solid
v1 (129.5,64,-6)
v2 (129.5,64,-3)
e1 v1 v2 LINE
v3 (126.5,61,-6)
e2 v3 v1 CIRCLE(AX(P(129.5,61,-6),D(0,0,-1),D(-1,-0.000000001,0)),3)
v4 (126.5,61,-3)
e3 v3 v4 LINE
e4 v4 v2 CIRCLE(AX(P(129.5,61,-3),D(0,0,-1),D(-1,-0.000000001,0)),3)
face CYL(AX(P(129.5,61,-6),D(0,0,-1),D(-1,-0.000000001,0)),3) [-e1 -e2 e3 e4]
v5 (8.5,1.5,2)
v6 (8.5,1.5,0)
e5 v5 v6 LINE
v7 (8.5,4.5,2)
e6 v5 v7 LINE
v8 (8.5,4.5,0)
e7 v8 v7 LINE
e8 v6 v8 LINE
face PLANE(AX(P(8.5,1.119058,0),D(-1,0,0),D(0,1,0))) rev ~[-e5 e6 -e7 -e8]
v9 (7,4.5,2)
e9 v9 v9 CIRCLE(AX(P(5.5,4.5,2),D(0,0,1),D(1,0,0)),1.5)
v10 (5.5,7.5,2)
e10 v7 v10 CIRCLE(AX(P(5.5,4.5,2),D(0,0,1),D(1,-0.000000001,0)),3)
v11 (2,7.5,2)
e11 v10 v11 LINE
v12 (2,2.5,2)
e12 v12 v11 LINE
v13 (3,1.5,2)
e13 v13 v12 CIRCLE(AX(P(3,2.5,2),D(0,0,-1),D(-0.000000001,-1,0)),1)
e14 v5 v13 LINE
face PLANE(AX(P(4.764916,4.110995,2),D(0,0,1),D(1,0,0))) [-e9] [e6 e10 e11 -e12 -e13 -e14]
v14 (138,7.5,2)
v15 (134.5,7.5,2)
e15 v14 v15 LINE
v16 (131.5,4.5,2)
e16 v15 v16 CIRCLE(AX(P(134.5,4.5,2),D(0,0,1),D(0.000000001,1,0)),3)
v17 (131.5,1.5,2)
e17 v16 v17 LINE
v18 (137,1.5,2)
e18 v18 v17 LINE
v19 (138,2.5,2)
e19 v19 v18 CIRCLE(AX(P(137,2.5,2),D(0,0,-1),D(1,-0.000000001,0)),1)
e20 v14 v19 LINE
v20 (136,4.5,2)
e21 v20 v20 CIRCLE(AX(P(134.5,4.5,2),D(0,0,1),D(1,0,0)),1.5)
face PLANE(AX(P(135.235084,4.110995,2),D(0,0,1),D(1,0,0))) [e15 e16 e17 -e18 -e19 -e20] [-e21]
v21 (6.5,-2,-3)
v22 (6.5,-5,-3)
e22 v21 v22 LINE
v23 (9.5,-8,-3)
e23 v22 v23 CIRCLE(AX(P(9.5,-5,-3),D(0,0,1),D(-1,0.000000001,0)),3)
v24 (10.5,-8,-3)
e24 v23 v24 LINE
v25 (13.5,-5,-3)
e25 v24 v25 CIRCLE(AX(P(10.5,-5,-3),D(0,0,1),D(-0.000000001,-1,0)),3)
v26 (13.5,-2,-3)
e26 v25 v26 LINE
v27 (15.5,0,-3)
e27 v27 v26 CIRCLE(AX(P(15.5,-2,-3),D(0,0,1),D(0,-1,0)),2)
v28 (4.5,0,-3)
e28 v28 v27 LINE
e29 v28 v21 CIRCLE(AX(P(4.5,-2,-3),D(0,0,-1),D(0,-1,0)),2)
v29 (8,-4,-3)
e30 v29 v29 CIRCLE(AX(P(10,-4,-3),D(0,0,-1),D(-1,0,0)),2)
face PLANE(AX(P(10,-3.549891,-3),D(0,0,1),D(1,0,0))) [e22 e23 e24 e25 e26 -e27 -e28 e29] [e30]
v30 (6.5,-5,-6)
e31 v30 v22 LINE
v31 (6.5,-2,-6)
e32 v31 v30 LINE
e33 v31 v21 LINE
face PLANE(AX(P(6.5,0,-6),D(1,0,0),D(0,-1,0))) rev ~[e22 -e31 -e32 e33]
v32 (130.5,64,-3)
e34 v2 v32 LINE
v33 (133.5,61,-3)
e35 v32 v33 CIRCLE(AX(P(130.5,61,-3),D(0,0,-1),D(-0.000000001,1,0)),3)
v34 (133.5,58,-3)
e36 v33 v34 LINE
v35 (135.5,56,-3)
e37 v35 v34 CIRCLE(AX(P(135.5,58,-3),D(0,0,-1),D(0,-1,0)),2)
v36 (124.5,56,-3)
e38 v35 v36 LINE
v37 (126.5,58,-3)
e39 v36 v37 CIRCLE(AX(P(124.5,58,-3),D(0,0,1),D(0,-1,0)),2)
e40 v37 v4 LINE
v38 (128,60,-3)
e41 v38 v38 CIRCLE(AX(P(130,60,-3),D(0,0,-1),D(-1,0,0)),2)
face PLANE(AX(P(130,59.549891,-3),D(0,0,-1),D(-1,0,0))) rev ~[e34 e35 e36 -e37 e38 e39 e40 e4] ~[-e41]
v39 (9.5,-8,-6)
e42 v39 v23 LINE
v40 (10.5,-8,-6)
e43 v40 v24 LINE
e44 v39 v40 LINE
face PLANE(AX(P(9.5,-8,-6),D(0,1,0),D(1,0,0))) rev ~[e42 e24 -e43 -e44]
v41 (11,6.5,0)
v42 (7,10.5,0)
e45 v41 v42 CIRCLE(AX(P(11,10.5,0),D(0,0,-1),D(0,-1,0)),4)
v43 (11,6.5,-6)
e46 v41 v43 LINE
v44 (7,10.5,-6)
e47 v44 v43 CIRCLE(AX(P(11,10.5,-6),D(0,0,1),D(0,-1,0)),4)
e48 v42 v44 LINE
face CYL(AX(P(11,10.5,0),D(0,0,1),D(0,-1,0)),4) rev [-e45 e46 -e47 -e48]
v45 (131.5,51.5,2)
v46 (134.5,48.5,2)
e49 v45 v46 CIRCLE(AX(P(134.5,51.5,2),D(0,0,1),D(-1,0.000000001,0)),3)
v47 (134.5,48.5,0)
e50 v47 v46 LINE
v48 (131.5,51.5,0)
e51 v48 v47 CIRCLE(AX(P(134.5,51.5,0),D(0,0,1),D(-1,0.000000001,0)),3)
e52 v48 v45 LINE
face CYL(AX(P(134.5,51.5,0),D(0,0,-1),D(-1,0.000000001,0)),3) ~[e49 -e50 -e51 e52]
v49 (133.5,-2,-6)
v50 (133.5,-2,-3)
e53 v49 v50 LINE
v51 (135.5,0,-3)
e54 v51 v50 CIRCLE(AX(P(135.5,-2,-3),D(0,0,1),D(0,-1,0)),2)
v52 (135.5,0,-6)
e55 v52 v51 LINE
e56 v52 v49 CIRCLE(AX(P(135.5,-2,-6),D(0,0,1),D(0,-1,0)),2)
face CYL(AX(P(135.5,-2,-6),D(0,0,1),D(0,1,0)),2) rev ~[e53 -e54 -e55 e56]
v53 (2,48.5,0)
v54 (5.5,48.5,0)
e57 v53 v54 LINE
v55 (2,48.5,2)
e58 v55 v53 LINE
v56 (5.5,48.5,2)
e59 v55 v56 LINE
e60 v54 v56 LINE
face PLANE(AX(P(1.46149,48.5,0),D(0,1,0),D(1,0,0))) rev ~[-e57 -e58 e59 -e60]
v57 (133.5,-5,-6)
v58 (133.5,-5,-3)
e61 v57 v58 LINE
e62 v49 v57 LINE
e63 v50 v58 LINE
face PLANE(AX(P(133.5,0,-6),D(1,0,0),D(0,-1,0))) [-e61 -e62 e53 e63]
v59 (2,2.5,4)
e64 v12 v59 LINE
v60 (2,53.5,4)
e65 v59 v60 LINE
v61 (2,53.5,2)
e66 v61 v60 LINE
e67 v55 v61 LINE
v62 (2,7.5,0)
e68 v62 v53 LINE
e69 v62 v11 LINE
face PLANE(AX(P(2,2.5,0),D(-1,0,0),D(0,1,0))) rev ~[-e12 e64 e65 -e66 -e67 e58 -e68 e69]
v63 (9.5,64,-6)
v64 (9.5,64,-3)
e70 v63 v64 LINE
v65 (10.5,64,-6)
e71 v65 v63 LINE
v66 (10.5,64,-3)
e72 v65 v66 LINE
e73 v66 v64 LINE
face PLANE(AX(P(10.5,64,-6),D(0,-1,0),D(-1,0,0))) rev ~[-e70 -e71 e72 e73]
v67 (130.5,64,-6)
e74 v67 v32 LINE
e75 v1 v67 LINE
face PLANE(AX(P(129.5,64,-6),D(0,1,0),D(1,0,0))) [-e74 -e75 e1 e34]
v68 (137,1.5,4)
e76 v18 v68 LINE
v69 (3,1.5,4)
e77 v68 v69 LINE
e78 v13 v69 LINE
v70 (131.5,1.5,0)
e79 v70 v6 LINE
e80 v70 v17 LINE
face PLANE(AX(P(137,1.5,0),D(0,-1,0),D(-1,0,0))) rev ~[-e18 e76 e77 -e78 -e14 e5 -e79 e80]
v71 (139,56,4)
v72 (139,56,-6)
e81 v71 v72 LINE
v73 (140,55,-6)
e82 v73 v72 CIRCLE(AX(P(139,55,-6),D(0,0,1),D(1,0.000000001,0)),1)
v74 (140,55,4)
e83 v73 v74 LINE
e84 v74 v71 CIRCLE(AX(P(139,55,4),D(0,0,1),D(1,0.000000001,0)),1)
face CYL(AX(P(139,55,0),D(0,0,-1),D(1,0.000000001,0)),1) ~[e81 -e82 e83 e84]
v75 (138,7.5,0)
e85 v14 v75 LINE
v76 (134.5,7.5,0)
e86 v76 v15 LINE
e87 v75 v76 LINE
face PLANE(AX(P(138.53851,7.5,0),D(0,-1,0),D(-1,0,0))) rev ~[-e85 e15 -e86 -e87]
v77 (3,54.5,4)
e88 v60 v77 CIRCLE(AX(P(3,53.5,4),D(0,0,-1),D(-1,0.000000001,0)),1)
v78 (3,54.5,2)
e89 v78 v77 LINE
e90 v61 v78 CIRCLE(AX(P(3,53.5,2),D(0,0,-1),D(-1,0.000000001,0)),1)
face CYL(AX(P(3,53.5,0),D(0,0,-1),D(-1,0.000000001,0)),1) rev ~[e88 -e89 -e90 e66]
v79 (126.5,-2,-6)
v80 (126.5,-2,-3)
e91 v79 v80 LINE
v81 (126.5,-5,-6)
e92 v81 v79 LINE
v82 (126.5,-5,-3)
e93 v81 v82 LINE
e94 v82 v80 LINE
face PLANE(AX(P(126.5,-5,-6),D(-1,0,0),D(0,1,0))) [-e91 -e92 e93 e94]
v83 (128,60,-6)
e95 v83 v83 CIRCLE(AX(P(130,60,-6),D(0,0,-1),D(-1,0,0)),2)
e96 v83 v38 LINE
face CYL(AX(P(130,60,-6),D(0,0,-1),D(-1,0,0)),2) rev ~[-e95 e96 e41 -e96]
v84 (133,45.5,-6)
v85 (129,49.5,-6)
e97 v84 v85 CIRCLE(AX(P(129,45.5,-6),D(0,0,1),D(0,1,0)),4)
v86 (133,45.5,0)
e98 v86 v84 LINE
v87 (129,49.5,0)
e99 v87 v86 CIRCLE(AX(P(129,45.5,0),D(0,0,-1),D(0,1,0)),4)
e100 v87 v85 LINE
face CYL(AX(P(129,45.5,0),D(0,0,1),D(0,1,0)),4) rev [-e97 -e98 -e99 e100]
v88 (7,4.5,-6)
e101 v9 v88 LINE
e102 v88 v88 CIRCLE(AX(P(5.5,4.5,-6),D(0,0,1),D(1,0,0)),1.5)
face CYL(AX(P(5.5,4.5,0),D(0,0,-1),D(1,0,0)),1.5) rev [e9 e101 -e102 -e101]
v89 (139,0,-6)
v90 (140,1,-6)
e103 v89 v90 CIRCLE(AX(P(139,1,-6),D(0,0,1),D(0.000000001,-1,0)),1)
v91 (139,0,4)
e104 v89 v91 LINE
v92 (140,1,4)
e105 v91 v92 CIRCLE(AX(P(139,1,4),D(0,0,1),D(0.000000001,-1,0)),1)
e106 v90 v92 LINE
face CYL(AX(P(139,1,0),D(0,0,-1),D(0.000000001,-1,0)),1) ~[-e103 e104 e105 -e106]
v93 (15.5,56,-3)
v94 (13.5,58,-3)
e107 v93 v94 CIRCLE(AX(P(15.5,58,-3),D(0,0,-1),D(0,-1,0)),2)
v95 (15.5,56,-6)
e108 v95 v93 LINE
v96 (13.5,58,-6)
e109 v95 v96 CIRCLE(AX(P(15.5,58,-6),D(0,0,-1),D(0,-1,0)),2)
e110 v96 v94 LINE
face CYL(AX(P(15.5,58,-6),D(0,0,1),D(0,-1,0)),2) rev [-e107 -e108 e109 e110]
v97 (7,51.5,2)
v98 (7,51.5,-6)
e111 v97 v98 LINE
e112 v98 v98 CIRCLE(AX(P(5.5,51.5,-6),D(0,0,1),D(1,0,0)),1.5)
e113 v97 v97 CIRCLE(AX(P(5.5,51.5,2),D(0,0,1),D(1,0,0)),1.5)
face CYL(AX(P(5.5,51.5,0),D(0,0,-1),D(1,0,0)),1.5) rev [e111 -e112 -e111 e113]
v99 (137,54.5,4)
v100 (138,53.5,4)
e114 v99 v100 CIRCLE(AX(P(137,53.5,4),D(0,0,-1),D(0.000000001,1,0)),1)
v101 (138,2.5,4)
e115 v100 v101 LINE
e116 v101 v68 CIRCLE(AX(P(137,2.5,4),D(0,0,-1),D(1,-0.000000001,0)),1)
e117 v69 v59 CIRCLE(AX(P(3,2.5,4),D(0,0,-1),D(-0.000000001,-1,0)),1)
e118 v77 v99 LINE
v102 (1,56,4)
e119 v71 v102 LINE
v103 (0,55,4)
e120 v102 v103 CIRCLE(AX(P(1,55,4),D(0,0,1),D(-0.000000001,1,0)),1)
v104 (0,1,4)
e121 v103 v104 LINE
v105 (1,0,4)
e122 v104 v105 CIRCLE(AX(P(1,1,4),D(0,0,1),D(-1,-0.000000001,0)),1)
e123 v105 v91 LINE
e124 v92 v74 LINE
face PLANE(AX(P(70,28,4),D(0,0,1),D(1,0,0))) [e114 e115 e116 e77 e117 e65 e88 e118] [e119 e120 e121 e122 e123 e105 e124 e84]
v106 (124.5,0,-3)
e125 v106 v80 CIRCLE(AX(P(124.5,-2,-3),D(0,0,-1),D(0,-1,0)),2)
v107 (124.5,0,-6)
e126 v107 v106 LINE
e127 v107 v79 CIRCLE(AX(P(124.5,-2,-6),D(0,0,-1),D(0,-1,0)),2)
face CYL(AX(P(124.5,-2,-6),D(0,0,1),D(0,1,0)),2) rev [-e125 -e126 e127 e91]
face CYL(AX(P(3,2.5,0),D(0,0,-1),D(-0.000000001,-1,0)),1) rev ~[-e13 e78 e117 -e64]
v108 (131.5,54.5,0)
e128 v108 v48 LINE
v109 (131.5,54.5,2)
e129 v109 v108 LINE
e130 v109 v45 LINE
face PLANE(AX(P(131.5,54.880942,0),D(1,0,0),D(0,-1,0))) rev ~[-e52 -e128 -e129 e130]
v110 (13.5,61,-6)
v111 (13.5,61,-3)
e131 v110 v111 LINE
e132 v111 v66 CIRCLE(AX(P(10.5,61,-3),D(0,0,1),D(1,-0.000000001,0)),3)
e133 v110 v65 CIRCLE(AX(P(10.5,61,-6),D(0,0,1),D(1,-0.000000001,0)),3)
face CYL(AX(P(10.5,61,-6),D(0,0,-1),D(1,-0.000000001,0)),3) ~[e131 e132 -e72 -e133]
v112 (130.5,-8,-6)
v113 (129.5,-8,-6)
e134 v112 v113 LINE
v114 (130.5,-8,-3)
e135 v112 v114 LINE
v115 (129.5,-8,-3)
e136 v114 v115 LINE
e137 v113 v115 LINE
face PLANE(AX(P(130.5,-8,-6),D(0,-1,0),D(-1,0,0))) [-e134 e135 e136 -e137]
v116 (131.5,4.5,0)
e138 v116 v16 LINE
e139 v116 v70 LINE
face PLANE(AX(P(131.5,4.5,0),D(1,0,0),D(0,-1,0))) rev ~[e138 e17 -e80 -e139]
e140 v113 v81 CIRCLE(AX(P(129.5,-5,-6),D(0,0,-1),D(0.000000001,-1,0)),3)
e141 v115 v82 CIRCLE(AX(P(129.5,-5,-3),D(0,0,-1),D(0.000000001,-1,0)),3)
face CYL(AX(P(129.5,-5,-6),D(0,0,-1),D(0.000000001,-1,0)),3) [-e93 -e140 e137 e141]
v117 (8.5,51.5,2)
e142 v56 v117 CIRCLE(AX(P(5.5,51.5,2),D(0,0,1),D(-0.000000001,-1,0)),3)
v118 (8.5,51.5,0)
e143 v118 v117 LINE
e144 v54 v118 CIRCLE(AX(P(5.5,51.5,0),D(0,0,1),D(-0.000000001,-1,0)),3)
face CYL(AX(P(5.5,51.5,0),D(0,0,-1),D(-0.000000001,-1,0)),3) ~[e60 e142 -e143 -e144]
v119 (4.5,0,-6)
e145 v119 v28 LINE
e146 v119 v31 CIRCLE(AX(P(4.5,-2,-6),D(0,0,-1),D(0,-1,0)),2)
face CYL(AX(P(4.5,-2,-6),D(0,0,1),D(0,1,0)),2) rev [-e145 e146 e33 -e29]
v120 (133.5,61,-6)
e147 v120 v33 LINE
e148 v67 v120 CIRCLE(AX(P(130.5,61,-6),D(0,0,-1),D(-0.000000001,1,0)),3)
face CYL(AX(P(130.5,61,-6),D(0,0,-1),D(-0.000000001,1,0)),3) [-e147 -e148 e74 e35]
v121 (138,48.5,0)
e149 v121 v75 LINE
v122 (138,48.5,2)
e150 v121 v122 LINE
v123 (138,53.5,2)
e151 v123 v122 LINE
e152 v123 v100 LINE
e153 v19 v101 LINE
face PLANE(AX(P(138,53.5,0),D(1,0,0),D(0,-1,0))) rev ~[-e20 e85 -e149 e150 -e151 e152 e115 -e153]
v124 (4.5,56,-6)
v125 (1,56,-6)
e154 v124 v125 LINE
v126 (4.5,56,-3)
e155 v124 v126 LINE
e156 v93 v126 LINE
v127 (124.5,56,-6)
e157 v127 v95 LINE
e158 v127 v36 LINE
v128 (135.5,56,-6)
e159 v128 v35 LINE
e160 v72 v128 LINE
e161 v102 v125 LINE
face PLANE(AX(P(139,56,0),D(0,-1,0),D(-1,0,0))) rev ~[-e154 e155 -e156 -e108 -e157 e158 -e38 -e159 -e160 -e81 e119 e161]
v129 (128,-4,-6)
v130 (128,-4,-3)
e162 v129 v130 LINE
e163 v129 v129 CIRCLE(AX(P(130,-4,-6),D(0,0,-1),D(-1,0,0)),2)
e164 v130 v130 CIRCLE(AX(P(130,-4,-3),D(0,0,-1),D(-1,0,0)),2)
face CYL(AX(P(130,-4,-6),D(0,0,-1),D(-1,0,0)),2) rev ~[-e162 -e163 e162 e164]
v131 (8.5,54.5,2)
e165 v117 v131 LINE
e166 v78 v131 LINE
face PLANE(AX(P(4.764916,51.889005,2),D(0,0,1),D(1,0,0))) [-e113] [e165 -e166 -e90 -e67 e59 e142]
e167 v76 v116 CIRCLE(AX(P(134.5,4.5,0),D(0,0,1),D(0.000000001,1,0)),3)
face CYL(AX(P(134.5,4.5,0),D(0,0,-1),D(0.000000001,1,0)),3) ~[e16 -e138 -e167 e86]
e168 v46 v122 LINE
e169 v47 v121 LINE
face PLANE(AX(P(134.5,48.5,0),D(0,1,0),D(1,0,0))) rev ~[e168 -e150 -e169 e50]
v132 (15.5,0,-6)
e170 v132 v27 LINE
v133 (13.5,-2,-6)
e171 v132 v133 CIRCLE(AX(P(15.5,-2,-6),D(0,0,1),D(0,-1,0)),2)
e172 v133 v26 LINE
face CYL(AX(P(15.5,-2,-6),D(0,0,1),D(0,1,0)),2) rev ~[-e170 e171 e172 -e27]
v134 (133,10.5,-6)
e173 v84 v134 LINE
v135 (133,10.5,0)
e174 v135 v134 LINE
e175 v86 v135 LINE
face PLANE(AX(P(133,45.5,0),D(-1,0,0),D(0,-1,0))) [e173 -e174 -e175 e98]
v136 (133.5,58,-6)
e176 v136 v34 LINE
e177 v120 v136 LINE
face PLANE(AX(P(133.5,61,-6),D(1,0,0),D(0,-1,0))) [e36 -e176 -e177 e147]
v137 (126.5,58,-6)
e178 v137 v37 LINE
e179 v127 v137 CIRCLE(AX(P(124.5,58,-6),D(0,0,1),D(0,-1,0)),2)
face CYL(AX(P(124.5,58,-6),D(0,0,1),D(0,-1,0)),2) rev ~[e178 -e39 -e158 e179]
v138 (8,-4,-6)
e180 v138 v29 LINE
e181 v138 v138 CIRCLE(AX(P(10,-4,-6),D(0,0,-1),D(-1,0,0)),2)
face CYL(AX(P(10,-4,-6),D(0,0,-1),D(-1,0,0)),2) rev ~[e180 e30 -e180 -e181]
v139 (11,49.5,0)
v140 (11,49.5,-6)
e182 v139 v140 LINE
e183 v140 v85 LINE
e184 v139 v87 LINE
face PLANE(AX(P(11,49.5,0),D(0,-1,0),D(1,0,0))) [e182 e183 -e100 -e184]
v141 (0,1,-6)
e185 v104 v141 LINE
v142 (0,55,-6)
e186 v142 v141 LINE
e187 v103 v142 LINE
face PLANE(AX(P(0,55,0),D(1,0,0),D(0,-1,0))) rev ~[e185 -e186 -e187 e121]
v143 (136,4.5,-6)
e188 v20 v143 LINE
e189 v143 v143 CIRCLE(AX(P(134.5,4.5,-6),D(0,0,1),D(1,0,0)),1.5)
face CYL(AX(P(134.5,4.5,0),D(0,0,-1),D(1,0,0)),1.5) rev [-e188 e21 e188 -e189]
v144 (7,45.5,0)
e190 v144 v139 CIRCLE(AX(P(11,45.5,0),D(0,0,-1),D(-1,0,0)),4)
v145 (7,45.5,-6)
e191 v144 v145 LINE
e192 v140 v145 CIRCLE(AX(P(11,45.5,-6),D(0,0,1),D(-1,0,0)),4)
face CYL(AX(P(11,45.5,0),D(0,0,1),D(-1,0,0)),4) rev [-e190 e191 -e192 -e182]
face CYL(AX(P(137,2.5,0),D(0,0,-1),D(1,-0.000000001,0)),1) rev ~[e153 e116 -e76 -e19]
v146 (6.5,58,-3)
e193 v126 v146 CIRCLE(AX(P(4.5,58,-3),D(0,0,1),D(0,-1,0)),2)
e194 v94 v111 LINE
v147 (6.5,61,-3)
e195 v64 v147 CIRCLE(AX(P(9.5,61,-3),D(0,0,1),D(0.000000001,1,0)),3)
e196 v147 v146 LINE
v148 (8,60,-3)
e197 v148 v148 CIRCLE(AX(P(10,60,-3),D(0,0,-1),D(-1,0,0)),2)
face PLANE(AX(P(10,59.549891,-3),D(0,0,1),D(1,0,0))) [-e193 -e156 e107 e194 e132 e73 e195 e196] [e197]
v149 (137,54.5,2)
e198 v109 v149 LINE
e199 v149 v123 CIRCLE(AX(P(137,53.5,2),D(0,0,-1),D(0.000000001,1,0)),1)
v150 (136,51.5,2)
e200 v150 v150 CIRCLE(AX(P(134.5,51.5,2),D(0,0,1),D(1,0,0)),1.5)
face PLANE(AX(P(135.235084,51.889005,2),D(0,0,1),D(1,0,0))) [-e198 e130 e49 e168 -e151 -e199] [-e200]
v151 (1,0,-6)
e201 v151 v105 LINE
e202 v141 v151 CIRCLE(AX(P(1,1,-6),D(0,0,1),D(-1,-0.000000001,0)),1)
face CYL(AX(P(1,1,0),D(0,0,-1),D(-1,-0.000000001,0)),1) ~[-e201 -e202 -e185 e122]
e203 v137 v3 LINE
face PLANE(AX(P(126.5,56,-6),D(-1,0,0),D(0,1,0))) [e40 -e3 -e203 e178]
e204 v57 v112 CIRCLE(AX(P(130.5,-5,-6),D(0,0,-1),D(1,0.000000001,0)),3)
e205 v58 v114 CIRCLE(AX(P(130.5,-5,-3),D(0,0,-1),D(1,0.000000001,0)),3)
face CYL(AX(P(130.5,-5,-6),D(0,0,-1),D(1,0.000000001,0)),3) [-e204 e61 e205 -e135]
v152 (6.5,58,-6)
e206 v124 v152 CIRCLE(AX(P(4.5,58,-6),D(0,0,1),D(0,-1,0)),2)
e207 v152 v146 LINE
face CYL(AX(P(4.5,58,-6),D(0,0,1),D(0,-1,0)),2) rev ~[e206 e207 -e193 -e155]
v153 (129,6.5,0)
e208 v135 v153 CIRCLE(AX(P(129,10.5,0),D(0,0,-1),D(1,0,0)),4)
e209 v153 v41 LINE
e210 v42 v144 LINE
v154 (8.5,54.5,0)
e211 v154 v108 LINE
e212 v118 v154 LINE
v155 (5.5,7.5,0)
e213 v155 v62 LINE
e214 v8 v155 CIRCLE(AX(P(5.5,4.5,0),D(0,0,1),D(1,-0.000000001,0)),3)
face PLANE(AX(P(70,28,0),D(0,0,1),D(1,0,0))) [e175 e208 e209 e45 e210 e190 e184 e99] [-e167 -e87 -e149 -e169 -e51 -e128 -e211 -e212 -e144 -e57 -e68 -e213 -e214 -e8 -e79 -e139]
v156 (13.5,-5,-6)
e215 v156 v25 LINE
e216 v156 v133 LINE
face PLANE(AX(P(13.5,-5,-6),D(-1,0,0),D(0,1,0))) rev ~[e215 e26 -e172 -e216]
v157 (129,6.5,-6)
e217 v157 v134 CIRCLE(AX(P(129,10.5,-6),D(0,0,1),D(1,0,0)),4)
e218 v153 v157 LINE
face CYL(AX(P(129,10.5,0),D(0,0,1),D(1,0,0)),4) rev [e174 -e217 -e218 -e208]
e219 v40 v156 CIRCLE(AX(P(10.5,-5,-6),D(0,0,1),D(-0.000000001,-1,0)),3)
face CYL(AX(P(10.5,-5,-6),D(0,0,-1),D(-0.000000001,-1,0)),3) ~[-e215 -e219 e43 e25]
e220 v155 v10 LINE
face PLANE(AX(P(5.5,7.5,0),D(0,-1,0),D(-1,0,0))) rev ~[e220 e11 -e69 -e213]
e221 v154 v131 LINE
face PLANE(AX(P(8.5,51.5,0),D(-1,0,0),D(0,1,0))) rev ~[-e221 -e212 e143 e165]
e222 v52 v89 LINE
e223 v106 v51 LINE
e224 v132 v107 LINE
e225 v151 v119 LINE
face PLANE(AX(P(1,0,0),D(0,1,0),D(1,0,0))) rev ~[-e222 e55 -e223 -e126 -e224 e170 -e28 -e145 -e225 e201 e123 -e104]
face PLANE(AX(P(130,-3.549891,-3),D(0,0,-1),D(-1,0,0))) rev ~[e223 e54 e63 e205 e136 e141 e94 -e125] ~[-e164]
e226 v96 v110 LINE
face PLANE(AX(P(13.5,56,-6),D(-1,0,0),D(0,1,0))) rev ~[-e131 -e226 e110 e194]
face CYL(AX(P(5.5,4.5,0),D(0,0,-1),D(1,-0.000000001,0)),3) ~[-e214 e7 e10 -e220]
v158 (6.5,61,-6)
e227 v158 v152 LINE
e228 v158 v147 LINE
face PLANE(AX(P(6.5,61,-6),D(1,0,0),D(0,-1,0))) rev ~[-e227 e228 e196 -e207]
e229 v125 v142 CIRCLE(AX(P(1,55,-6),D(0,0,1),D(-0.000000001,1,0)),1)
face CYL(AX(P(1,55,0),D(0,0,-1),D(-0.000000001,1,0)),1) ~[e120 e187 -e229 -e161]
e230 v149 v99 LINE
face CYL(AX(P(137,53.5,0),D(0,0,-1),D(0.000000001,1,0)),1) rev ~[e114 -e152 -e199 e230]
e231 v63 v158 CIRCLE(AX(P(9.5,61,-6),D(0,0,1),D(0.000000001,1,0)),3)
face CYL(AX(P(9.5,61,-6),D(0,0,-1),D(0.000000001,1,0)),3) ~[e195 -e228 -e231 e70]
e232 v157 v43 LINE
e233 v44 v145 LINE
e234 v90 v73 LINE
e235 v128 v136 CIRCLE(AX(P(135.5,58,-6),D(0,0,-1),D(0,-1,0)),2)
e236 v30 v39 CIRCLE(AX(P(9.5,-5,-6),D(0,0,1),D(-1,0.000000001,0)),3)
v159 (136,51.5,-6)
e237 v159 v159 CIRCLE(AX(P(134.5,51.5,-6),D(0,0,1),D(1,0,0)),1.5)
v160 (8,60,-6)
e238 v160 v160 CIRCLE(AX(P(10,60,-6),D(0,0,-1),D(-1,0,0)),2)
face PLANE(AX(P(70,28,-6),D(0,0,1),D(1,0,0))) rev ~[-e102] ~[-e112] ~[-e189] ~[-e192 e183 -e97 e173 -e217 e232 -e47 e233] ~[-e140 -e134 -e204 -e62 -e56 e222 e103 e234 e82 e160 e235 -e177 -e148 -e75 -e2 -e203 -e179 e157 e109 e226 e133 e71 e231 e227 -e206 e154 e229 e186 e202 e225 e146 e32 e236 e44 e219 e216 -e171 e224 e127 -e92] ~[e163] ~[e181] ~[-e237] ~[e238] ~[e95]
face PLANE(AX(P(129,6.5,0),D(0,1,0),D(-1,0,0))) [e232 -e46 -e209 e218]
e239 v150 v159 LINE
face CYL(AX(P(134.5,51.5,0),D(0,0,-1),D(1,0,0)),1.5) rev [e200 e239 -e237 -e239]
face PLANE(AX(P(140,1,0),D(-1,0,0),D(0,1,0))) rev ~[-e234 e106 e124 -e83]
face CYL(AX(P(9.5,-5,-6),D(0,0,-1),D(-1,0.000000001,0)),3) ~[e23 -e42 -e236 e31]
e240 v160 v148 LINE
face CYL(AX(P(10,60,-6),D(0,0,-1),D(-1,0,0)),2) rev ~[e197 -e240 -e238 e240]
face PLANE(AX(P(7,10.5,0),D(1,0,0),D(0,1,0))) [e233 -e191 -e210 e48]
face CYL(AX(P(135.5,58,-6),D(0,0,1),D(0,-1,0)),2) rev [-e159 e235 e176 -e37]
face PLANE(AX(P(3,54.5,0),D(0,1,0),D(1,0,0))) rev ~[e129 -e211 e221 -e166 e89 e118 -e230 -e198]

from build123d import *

# Parameters (mm, degrees)
SKETCH1_R               = 1.5
BOSS_EXTRUDE1_DEPTH     = 6
BOSS_EXTRUDE2_DEPTH     = 4
CUT_EXTRUDE1_DEPTH      = 5
CUT_EXTRUDE1_DEPTH_BACK = 7
SKETCH3_R               = 2
BOSS_EXTRUDE3_DEPTH     = 3
FILLET1_R               = 2
SKETCH4_R               = 1.5
BOSS_EXTRUDE4_DEPTH     = 2


with BuildPart() as part:
    # Sketch1 → Boss-Extrude1 (new body)
    with BuildSketch(Plane.XY):
        with BuildLine():
            Line((1, 0), (139, 0))
            ThreePointArc((139, 0), (139.707106781, 0.292893219), (140, 1))
            Line((140, 1), (140, 55))
            ThreePointArc((140, 55), (139.707106781, 55.707106781), (139, 56))
            Line((139, 56), (1, 56))
            ThreePointArc((1, 56), (0.292893219, 55.707106781), (0, 55))
            Line((0, 55), (0, 1))
            ThreePointArc((0, 1), (0.292893219, 0.292893219), (1, 0))
        make_face()
        with Locations((5.5, 51.5)):
            Circle(SKETCH1_R, mode=Mode.SUBTRACT)
        with Locations((5.5, 4.5)):
            Circle(SKETCH1_R, mode=Mode.SUBTRACT)
        with Locations((134.5, 4.5)):
            Circle(SKETCH1_R, mode=Mode.SUBTRACT)
        with Locations((134.5, 51.5)):
            Circle(SKETCH1_R, mode=Mode.SUBTRACT)
    extrude(amount=-BOSS_EXTRUDE1_DEPTH)

    # Sketch1<3> → Boss-Extrude2 (add)
    with BuildSketch(Plane.XY):
        with BuildLine():
            ThreePointArc((0, 1), (0.292893219, 0.292893219), (1, 0))
            Line((1, 0), (139, 0))
            ThreePointArc((139, 0), (139.707106781, 0.292893219), (140, 1))
            Line((140, 1), (140, 55))
            ThreePointArc((140, 55), (139.707106781, 55.707106781), (139, 56))
            Line((139, 56), (1, 56))
            ThreePointArc((1, 56), (0.292893219, 55.707106781), (0, 55))
            Line((0, 55), (0, 1))
        make_face()
        with BuildLine():
            ThreePointArc((2, 53.5), (2.292893219, 54.207106781), (3, 54.5))
            Line((3, 54.5), (137, 54.5))
            ThreePointArc((137, 54.5), (137.707106781, 54.207106781), (138, 53.5))
            Line((138, 53.5), (138, 2.5))
            ThreePointArc((138, 2.5), (137.707106781, 1.792893219), (137, 1.5))
            Line((137, 1.5), (3, 1.5))
            ThreePointArc((3, 1.5), (2.292893219, 1.792893219), (2, 2.5))
            Line((2, 2.5), (2, 53.5))
        make_face(mode=Mode.SUBTRACT)
    extrude(amount=BOSS_EXTRUDE2_DEPTH)

    # Sketch2 → Cut-Extrude1 (cut, two sides)
    with BuildSketch(Plane.XY) as cut_extrude1_sk:
        with BuildLine():
            Line((11, 49.5), (129, 49.5))
            ThreePointArc((129, 49.5), (131.828427125, 48.328427125), (133, 45.5))
            Line((133, 45.5), (133, 10.5))
            ThreePointArc((133, 10.5), (131.828427125, 7.671572875), (129, 6.5))
            Line((129, 6.5), (11, 6.5))
            ThreePointArc((11, 6.5), (8.171572875, 7.671572875), (7, 10.5))
            Line((7, 10.5), (7, 45.5))
            ThreePointArc((7, 45.5), (8.171572875, 48.328427125), (11, 49.5))
        make_face()
    extrude(amount=CUT_EXTRUDE1_DEPTH, mode=Mode.SUBTRACT)
    extrude(cut_extrude1_sk.sketch, amount=-CUT_EXTRUDE1_DEPTH_BACK, mode=Mode.SUBTRACT)

    # Sketch3 → Boss-Extrude3 (add)
    with BuildSketch(Plane(origin=(0, 0, -6), x_dir=(-1, 0, 0), z_dir=(0, 0, -1))):
        with BuildLine():
            Line((-6.5, 0), (-6.5, -5))
            ThreePointArc((-6.5, -5), (-7.378679656, -7.121320344), (-9.5, -8))
            Line((-9.5, -8), (-10.5, -8))
            ThreePointArc((-10.5, -8), (-12.621320344, -7.121320344), (-13.5, -5))
            Line((-13.5, -5), (-13.5, 0))
            Line((-13.5, 0), (-6.5, 0))
        make_face()
        with Locations((-10, -4)):
            Circle(SKETCH3_R, mode=Mode.SUBTRACT)
        with BuildLine():
            Line((-6.5, 56), (-13.5, 56))
            Line((-13.5, 56), (-13.5, 61))
            ThreePointArc((-13.5, 61), (-12.621320344, 63.121320344), (-10.5, 64))
            Line((-10.5, 64), (-9.5, 64))
            ThreePointArc((-9.5, 64), (-7.378679656, 63.121320344), (-6.5, 61))
            Line((-6.5, 61), (-6.5, 56))
        make_face()
        with Locations((-10, 60)):
            Circle(SKETCH3_R, mode=Mode.SUBTRACT)
        with BuildLine():
            Line((-126.5, 56), (-126.5, 61))
            ThreePointArc((-126.5, 61), (-127.378679656, 63.121320344), (-129.5, 64))
            Line((-129.5, 64), (-130.5, 64))
            ThreePointArc((-130.5, 64), (-132.621320344, 63.121320344), (-133.5, 61))
            Line((-133.5, 61), (-133.5, 56))
            Line((-133.5, 56), (-126.5, 56))
        make_face()
        with Locations((-130, 60)):
            Circle(SKETCH3_R, mode=Mode.SUBTRACT)
        with BuildLine():
            Line((-133.5, 0), (-133.5, -5))
            ThreePointArc((-133.5, -5), (-132.621320344, -7.121320344), (-130.5, -8))
            Line((-130.5, -8), (-129.5, -8))
            ThreePointArc((-129.5, -8), (-127.378679656, -7.121320344), (-126.5, -5))
            Line((-126.5, -5), (-126.5, 0))
            Line((-126.5, 0), (-133.5, 0))
        make_face()
        with Locations((-130, -4)):
            Circle(SKETCH3_R, mode=Mode.SUBTRACT)
    extrude(amount=-BOSS_EXTRUDE3_DEPTH)

    # Fillet1
    fillet1_edges = [part.edges().sort_by_distance(p)[0] for p in [
        (13.5, 0, -4.5),
        (6.5, 0, -4.5),
        (6.5, 56, -4.5),
        (13.5, 56, -4.5),
        (126.5, 56, -4.5),
        (133.5, 56, -4.5),
        (133.5, 0, -4.5),
        (126.5, 0, -4.5),
    ]]
    fillet(fillet1_edges, radius=FILLET1_R)

    # Sketch4 → Boss-Extrude4 (add)
    with BuildSketch(Plane.XY):
        with BuildLine():
            Line((8.5, 51.5), (8.5, 54.880942349))
            Line((8.5, 54.880942349), (6, 54.880942349))
            Line((6, 54.880942349), (1.461490173, 54.880942349))
            Line((1.461490173, 54.880942349), (1.461490173, 48.5))
            Line((1.461490173, 48.5), (5.5, 48.5))
            ThreePointArc((5.5, 48.5), (7.621320344, 49.378679656), (8.5, 51.5))
        make_face()
        with Locations((5.5, 51.5)):
            Circle(SKETCH4_R, mode=Mode.SUBTRACT)
        with BuildLine():
            Line((134, 54.880942349), (131.5, 54.880942349))
            Line((131.5, 54.880942349), (131.5, 51.5))
            ThreePointArc((131.5, 51.5), (132.378679656, 49.378679656), (134.5, 48.5))
            Line((134.5, 48.5), (138.538509827, 48.5))
            Line((138.538509827, 48.5), (138.538509827, 54.880942349))
            Line((138.538509827, 54.880942349), (134, 54.880942349))
        make_face()
        with Locations((134.5, 51.5)):
            Circle(SKETCH4_R, mode=Mode.SUBTRACT)
        with BuildLine():
            Line((131.5, 4.5), (131.5, 1.119057651))
            Line((131.5, 1.119057651), (134, 1.119057651))
            Line((134, 1.119057651), (138.538509827, 1.119057651))
            Line((138.538509827, 1.119057651), (138.538509827, 7.5))
            Line((138.538509827, 7.5), (134.5, 7.5))
            ThreePointArc((134.5, 7.5), (132.378679656, 6.621320344), (131.5, 4.5))
        make_face()
        with Locations((134.5, 4.5)):
            Circle(SKETCH4_R, mode=Mode.SUBTRACT)
        with BuildLine():
            Line((6, 1.119057651), (8.5, 1.119057651))
            Line((8.5, 1.119057651), (8.5, 4.5))
            ThreePointArc((8.5, 4.5), (7.621320344, 6.621320344), (5.5, 7.5))
            Line((5.5, 7.5), (1.461490173, 7.5))
            Line((1.461490173, 7.5), (1.461490173, 1.119057651))
            Line((1.461490173, 1.119057651), (6, 1.119057651))
        make_face()
        with Locations((5.5, 4.5)):
            Circle(SKETCH4_R, mode=Mode.SUBTRACT)
    extrude(amount=BOSS_EXTRUDE4_DEPTH)


solid = part.part
